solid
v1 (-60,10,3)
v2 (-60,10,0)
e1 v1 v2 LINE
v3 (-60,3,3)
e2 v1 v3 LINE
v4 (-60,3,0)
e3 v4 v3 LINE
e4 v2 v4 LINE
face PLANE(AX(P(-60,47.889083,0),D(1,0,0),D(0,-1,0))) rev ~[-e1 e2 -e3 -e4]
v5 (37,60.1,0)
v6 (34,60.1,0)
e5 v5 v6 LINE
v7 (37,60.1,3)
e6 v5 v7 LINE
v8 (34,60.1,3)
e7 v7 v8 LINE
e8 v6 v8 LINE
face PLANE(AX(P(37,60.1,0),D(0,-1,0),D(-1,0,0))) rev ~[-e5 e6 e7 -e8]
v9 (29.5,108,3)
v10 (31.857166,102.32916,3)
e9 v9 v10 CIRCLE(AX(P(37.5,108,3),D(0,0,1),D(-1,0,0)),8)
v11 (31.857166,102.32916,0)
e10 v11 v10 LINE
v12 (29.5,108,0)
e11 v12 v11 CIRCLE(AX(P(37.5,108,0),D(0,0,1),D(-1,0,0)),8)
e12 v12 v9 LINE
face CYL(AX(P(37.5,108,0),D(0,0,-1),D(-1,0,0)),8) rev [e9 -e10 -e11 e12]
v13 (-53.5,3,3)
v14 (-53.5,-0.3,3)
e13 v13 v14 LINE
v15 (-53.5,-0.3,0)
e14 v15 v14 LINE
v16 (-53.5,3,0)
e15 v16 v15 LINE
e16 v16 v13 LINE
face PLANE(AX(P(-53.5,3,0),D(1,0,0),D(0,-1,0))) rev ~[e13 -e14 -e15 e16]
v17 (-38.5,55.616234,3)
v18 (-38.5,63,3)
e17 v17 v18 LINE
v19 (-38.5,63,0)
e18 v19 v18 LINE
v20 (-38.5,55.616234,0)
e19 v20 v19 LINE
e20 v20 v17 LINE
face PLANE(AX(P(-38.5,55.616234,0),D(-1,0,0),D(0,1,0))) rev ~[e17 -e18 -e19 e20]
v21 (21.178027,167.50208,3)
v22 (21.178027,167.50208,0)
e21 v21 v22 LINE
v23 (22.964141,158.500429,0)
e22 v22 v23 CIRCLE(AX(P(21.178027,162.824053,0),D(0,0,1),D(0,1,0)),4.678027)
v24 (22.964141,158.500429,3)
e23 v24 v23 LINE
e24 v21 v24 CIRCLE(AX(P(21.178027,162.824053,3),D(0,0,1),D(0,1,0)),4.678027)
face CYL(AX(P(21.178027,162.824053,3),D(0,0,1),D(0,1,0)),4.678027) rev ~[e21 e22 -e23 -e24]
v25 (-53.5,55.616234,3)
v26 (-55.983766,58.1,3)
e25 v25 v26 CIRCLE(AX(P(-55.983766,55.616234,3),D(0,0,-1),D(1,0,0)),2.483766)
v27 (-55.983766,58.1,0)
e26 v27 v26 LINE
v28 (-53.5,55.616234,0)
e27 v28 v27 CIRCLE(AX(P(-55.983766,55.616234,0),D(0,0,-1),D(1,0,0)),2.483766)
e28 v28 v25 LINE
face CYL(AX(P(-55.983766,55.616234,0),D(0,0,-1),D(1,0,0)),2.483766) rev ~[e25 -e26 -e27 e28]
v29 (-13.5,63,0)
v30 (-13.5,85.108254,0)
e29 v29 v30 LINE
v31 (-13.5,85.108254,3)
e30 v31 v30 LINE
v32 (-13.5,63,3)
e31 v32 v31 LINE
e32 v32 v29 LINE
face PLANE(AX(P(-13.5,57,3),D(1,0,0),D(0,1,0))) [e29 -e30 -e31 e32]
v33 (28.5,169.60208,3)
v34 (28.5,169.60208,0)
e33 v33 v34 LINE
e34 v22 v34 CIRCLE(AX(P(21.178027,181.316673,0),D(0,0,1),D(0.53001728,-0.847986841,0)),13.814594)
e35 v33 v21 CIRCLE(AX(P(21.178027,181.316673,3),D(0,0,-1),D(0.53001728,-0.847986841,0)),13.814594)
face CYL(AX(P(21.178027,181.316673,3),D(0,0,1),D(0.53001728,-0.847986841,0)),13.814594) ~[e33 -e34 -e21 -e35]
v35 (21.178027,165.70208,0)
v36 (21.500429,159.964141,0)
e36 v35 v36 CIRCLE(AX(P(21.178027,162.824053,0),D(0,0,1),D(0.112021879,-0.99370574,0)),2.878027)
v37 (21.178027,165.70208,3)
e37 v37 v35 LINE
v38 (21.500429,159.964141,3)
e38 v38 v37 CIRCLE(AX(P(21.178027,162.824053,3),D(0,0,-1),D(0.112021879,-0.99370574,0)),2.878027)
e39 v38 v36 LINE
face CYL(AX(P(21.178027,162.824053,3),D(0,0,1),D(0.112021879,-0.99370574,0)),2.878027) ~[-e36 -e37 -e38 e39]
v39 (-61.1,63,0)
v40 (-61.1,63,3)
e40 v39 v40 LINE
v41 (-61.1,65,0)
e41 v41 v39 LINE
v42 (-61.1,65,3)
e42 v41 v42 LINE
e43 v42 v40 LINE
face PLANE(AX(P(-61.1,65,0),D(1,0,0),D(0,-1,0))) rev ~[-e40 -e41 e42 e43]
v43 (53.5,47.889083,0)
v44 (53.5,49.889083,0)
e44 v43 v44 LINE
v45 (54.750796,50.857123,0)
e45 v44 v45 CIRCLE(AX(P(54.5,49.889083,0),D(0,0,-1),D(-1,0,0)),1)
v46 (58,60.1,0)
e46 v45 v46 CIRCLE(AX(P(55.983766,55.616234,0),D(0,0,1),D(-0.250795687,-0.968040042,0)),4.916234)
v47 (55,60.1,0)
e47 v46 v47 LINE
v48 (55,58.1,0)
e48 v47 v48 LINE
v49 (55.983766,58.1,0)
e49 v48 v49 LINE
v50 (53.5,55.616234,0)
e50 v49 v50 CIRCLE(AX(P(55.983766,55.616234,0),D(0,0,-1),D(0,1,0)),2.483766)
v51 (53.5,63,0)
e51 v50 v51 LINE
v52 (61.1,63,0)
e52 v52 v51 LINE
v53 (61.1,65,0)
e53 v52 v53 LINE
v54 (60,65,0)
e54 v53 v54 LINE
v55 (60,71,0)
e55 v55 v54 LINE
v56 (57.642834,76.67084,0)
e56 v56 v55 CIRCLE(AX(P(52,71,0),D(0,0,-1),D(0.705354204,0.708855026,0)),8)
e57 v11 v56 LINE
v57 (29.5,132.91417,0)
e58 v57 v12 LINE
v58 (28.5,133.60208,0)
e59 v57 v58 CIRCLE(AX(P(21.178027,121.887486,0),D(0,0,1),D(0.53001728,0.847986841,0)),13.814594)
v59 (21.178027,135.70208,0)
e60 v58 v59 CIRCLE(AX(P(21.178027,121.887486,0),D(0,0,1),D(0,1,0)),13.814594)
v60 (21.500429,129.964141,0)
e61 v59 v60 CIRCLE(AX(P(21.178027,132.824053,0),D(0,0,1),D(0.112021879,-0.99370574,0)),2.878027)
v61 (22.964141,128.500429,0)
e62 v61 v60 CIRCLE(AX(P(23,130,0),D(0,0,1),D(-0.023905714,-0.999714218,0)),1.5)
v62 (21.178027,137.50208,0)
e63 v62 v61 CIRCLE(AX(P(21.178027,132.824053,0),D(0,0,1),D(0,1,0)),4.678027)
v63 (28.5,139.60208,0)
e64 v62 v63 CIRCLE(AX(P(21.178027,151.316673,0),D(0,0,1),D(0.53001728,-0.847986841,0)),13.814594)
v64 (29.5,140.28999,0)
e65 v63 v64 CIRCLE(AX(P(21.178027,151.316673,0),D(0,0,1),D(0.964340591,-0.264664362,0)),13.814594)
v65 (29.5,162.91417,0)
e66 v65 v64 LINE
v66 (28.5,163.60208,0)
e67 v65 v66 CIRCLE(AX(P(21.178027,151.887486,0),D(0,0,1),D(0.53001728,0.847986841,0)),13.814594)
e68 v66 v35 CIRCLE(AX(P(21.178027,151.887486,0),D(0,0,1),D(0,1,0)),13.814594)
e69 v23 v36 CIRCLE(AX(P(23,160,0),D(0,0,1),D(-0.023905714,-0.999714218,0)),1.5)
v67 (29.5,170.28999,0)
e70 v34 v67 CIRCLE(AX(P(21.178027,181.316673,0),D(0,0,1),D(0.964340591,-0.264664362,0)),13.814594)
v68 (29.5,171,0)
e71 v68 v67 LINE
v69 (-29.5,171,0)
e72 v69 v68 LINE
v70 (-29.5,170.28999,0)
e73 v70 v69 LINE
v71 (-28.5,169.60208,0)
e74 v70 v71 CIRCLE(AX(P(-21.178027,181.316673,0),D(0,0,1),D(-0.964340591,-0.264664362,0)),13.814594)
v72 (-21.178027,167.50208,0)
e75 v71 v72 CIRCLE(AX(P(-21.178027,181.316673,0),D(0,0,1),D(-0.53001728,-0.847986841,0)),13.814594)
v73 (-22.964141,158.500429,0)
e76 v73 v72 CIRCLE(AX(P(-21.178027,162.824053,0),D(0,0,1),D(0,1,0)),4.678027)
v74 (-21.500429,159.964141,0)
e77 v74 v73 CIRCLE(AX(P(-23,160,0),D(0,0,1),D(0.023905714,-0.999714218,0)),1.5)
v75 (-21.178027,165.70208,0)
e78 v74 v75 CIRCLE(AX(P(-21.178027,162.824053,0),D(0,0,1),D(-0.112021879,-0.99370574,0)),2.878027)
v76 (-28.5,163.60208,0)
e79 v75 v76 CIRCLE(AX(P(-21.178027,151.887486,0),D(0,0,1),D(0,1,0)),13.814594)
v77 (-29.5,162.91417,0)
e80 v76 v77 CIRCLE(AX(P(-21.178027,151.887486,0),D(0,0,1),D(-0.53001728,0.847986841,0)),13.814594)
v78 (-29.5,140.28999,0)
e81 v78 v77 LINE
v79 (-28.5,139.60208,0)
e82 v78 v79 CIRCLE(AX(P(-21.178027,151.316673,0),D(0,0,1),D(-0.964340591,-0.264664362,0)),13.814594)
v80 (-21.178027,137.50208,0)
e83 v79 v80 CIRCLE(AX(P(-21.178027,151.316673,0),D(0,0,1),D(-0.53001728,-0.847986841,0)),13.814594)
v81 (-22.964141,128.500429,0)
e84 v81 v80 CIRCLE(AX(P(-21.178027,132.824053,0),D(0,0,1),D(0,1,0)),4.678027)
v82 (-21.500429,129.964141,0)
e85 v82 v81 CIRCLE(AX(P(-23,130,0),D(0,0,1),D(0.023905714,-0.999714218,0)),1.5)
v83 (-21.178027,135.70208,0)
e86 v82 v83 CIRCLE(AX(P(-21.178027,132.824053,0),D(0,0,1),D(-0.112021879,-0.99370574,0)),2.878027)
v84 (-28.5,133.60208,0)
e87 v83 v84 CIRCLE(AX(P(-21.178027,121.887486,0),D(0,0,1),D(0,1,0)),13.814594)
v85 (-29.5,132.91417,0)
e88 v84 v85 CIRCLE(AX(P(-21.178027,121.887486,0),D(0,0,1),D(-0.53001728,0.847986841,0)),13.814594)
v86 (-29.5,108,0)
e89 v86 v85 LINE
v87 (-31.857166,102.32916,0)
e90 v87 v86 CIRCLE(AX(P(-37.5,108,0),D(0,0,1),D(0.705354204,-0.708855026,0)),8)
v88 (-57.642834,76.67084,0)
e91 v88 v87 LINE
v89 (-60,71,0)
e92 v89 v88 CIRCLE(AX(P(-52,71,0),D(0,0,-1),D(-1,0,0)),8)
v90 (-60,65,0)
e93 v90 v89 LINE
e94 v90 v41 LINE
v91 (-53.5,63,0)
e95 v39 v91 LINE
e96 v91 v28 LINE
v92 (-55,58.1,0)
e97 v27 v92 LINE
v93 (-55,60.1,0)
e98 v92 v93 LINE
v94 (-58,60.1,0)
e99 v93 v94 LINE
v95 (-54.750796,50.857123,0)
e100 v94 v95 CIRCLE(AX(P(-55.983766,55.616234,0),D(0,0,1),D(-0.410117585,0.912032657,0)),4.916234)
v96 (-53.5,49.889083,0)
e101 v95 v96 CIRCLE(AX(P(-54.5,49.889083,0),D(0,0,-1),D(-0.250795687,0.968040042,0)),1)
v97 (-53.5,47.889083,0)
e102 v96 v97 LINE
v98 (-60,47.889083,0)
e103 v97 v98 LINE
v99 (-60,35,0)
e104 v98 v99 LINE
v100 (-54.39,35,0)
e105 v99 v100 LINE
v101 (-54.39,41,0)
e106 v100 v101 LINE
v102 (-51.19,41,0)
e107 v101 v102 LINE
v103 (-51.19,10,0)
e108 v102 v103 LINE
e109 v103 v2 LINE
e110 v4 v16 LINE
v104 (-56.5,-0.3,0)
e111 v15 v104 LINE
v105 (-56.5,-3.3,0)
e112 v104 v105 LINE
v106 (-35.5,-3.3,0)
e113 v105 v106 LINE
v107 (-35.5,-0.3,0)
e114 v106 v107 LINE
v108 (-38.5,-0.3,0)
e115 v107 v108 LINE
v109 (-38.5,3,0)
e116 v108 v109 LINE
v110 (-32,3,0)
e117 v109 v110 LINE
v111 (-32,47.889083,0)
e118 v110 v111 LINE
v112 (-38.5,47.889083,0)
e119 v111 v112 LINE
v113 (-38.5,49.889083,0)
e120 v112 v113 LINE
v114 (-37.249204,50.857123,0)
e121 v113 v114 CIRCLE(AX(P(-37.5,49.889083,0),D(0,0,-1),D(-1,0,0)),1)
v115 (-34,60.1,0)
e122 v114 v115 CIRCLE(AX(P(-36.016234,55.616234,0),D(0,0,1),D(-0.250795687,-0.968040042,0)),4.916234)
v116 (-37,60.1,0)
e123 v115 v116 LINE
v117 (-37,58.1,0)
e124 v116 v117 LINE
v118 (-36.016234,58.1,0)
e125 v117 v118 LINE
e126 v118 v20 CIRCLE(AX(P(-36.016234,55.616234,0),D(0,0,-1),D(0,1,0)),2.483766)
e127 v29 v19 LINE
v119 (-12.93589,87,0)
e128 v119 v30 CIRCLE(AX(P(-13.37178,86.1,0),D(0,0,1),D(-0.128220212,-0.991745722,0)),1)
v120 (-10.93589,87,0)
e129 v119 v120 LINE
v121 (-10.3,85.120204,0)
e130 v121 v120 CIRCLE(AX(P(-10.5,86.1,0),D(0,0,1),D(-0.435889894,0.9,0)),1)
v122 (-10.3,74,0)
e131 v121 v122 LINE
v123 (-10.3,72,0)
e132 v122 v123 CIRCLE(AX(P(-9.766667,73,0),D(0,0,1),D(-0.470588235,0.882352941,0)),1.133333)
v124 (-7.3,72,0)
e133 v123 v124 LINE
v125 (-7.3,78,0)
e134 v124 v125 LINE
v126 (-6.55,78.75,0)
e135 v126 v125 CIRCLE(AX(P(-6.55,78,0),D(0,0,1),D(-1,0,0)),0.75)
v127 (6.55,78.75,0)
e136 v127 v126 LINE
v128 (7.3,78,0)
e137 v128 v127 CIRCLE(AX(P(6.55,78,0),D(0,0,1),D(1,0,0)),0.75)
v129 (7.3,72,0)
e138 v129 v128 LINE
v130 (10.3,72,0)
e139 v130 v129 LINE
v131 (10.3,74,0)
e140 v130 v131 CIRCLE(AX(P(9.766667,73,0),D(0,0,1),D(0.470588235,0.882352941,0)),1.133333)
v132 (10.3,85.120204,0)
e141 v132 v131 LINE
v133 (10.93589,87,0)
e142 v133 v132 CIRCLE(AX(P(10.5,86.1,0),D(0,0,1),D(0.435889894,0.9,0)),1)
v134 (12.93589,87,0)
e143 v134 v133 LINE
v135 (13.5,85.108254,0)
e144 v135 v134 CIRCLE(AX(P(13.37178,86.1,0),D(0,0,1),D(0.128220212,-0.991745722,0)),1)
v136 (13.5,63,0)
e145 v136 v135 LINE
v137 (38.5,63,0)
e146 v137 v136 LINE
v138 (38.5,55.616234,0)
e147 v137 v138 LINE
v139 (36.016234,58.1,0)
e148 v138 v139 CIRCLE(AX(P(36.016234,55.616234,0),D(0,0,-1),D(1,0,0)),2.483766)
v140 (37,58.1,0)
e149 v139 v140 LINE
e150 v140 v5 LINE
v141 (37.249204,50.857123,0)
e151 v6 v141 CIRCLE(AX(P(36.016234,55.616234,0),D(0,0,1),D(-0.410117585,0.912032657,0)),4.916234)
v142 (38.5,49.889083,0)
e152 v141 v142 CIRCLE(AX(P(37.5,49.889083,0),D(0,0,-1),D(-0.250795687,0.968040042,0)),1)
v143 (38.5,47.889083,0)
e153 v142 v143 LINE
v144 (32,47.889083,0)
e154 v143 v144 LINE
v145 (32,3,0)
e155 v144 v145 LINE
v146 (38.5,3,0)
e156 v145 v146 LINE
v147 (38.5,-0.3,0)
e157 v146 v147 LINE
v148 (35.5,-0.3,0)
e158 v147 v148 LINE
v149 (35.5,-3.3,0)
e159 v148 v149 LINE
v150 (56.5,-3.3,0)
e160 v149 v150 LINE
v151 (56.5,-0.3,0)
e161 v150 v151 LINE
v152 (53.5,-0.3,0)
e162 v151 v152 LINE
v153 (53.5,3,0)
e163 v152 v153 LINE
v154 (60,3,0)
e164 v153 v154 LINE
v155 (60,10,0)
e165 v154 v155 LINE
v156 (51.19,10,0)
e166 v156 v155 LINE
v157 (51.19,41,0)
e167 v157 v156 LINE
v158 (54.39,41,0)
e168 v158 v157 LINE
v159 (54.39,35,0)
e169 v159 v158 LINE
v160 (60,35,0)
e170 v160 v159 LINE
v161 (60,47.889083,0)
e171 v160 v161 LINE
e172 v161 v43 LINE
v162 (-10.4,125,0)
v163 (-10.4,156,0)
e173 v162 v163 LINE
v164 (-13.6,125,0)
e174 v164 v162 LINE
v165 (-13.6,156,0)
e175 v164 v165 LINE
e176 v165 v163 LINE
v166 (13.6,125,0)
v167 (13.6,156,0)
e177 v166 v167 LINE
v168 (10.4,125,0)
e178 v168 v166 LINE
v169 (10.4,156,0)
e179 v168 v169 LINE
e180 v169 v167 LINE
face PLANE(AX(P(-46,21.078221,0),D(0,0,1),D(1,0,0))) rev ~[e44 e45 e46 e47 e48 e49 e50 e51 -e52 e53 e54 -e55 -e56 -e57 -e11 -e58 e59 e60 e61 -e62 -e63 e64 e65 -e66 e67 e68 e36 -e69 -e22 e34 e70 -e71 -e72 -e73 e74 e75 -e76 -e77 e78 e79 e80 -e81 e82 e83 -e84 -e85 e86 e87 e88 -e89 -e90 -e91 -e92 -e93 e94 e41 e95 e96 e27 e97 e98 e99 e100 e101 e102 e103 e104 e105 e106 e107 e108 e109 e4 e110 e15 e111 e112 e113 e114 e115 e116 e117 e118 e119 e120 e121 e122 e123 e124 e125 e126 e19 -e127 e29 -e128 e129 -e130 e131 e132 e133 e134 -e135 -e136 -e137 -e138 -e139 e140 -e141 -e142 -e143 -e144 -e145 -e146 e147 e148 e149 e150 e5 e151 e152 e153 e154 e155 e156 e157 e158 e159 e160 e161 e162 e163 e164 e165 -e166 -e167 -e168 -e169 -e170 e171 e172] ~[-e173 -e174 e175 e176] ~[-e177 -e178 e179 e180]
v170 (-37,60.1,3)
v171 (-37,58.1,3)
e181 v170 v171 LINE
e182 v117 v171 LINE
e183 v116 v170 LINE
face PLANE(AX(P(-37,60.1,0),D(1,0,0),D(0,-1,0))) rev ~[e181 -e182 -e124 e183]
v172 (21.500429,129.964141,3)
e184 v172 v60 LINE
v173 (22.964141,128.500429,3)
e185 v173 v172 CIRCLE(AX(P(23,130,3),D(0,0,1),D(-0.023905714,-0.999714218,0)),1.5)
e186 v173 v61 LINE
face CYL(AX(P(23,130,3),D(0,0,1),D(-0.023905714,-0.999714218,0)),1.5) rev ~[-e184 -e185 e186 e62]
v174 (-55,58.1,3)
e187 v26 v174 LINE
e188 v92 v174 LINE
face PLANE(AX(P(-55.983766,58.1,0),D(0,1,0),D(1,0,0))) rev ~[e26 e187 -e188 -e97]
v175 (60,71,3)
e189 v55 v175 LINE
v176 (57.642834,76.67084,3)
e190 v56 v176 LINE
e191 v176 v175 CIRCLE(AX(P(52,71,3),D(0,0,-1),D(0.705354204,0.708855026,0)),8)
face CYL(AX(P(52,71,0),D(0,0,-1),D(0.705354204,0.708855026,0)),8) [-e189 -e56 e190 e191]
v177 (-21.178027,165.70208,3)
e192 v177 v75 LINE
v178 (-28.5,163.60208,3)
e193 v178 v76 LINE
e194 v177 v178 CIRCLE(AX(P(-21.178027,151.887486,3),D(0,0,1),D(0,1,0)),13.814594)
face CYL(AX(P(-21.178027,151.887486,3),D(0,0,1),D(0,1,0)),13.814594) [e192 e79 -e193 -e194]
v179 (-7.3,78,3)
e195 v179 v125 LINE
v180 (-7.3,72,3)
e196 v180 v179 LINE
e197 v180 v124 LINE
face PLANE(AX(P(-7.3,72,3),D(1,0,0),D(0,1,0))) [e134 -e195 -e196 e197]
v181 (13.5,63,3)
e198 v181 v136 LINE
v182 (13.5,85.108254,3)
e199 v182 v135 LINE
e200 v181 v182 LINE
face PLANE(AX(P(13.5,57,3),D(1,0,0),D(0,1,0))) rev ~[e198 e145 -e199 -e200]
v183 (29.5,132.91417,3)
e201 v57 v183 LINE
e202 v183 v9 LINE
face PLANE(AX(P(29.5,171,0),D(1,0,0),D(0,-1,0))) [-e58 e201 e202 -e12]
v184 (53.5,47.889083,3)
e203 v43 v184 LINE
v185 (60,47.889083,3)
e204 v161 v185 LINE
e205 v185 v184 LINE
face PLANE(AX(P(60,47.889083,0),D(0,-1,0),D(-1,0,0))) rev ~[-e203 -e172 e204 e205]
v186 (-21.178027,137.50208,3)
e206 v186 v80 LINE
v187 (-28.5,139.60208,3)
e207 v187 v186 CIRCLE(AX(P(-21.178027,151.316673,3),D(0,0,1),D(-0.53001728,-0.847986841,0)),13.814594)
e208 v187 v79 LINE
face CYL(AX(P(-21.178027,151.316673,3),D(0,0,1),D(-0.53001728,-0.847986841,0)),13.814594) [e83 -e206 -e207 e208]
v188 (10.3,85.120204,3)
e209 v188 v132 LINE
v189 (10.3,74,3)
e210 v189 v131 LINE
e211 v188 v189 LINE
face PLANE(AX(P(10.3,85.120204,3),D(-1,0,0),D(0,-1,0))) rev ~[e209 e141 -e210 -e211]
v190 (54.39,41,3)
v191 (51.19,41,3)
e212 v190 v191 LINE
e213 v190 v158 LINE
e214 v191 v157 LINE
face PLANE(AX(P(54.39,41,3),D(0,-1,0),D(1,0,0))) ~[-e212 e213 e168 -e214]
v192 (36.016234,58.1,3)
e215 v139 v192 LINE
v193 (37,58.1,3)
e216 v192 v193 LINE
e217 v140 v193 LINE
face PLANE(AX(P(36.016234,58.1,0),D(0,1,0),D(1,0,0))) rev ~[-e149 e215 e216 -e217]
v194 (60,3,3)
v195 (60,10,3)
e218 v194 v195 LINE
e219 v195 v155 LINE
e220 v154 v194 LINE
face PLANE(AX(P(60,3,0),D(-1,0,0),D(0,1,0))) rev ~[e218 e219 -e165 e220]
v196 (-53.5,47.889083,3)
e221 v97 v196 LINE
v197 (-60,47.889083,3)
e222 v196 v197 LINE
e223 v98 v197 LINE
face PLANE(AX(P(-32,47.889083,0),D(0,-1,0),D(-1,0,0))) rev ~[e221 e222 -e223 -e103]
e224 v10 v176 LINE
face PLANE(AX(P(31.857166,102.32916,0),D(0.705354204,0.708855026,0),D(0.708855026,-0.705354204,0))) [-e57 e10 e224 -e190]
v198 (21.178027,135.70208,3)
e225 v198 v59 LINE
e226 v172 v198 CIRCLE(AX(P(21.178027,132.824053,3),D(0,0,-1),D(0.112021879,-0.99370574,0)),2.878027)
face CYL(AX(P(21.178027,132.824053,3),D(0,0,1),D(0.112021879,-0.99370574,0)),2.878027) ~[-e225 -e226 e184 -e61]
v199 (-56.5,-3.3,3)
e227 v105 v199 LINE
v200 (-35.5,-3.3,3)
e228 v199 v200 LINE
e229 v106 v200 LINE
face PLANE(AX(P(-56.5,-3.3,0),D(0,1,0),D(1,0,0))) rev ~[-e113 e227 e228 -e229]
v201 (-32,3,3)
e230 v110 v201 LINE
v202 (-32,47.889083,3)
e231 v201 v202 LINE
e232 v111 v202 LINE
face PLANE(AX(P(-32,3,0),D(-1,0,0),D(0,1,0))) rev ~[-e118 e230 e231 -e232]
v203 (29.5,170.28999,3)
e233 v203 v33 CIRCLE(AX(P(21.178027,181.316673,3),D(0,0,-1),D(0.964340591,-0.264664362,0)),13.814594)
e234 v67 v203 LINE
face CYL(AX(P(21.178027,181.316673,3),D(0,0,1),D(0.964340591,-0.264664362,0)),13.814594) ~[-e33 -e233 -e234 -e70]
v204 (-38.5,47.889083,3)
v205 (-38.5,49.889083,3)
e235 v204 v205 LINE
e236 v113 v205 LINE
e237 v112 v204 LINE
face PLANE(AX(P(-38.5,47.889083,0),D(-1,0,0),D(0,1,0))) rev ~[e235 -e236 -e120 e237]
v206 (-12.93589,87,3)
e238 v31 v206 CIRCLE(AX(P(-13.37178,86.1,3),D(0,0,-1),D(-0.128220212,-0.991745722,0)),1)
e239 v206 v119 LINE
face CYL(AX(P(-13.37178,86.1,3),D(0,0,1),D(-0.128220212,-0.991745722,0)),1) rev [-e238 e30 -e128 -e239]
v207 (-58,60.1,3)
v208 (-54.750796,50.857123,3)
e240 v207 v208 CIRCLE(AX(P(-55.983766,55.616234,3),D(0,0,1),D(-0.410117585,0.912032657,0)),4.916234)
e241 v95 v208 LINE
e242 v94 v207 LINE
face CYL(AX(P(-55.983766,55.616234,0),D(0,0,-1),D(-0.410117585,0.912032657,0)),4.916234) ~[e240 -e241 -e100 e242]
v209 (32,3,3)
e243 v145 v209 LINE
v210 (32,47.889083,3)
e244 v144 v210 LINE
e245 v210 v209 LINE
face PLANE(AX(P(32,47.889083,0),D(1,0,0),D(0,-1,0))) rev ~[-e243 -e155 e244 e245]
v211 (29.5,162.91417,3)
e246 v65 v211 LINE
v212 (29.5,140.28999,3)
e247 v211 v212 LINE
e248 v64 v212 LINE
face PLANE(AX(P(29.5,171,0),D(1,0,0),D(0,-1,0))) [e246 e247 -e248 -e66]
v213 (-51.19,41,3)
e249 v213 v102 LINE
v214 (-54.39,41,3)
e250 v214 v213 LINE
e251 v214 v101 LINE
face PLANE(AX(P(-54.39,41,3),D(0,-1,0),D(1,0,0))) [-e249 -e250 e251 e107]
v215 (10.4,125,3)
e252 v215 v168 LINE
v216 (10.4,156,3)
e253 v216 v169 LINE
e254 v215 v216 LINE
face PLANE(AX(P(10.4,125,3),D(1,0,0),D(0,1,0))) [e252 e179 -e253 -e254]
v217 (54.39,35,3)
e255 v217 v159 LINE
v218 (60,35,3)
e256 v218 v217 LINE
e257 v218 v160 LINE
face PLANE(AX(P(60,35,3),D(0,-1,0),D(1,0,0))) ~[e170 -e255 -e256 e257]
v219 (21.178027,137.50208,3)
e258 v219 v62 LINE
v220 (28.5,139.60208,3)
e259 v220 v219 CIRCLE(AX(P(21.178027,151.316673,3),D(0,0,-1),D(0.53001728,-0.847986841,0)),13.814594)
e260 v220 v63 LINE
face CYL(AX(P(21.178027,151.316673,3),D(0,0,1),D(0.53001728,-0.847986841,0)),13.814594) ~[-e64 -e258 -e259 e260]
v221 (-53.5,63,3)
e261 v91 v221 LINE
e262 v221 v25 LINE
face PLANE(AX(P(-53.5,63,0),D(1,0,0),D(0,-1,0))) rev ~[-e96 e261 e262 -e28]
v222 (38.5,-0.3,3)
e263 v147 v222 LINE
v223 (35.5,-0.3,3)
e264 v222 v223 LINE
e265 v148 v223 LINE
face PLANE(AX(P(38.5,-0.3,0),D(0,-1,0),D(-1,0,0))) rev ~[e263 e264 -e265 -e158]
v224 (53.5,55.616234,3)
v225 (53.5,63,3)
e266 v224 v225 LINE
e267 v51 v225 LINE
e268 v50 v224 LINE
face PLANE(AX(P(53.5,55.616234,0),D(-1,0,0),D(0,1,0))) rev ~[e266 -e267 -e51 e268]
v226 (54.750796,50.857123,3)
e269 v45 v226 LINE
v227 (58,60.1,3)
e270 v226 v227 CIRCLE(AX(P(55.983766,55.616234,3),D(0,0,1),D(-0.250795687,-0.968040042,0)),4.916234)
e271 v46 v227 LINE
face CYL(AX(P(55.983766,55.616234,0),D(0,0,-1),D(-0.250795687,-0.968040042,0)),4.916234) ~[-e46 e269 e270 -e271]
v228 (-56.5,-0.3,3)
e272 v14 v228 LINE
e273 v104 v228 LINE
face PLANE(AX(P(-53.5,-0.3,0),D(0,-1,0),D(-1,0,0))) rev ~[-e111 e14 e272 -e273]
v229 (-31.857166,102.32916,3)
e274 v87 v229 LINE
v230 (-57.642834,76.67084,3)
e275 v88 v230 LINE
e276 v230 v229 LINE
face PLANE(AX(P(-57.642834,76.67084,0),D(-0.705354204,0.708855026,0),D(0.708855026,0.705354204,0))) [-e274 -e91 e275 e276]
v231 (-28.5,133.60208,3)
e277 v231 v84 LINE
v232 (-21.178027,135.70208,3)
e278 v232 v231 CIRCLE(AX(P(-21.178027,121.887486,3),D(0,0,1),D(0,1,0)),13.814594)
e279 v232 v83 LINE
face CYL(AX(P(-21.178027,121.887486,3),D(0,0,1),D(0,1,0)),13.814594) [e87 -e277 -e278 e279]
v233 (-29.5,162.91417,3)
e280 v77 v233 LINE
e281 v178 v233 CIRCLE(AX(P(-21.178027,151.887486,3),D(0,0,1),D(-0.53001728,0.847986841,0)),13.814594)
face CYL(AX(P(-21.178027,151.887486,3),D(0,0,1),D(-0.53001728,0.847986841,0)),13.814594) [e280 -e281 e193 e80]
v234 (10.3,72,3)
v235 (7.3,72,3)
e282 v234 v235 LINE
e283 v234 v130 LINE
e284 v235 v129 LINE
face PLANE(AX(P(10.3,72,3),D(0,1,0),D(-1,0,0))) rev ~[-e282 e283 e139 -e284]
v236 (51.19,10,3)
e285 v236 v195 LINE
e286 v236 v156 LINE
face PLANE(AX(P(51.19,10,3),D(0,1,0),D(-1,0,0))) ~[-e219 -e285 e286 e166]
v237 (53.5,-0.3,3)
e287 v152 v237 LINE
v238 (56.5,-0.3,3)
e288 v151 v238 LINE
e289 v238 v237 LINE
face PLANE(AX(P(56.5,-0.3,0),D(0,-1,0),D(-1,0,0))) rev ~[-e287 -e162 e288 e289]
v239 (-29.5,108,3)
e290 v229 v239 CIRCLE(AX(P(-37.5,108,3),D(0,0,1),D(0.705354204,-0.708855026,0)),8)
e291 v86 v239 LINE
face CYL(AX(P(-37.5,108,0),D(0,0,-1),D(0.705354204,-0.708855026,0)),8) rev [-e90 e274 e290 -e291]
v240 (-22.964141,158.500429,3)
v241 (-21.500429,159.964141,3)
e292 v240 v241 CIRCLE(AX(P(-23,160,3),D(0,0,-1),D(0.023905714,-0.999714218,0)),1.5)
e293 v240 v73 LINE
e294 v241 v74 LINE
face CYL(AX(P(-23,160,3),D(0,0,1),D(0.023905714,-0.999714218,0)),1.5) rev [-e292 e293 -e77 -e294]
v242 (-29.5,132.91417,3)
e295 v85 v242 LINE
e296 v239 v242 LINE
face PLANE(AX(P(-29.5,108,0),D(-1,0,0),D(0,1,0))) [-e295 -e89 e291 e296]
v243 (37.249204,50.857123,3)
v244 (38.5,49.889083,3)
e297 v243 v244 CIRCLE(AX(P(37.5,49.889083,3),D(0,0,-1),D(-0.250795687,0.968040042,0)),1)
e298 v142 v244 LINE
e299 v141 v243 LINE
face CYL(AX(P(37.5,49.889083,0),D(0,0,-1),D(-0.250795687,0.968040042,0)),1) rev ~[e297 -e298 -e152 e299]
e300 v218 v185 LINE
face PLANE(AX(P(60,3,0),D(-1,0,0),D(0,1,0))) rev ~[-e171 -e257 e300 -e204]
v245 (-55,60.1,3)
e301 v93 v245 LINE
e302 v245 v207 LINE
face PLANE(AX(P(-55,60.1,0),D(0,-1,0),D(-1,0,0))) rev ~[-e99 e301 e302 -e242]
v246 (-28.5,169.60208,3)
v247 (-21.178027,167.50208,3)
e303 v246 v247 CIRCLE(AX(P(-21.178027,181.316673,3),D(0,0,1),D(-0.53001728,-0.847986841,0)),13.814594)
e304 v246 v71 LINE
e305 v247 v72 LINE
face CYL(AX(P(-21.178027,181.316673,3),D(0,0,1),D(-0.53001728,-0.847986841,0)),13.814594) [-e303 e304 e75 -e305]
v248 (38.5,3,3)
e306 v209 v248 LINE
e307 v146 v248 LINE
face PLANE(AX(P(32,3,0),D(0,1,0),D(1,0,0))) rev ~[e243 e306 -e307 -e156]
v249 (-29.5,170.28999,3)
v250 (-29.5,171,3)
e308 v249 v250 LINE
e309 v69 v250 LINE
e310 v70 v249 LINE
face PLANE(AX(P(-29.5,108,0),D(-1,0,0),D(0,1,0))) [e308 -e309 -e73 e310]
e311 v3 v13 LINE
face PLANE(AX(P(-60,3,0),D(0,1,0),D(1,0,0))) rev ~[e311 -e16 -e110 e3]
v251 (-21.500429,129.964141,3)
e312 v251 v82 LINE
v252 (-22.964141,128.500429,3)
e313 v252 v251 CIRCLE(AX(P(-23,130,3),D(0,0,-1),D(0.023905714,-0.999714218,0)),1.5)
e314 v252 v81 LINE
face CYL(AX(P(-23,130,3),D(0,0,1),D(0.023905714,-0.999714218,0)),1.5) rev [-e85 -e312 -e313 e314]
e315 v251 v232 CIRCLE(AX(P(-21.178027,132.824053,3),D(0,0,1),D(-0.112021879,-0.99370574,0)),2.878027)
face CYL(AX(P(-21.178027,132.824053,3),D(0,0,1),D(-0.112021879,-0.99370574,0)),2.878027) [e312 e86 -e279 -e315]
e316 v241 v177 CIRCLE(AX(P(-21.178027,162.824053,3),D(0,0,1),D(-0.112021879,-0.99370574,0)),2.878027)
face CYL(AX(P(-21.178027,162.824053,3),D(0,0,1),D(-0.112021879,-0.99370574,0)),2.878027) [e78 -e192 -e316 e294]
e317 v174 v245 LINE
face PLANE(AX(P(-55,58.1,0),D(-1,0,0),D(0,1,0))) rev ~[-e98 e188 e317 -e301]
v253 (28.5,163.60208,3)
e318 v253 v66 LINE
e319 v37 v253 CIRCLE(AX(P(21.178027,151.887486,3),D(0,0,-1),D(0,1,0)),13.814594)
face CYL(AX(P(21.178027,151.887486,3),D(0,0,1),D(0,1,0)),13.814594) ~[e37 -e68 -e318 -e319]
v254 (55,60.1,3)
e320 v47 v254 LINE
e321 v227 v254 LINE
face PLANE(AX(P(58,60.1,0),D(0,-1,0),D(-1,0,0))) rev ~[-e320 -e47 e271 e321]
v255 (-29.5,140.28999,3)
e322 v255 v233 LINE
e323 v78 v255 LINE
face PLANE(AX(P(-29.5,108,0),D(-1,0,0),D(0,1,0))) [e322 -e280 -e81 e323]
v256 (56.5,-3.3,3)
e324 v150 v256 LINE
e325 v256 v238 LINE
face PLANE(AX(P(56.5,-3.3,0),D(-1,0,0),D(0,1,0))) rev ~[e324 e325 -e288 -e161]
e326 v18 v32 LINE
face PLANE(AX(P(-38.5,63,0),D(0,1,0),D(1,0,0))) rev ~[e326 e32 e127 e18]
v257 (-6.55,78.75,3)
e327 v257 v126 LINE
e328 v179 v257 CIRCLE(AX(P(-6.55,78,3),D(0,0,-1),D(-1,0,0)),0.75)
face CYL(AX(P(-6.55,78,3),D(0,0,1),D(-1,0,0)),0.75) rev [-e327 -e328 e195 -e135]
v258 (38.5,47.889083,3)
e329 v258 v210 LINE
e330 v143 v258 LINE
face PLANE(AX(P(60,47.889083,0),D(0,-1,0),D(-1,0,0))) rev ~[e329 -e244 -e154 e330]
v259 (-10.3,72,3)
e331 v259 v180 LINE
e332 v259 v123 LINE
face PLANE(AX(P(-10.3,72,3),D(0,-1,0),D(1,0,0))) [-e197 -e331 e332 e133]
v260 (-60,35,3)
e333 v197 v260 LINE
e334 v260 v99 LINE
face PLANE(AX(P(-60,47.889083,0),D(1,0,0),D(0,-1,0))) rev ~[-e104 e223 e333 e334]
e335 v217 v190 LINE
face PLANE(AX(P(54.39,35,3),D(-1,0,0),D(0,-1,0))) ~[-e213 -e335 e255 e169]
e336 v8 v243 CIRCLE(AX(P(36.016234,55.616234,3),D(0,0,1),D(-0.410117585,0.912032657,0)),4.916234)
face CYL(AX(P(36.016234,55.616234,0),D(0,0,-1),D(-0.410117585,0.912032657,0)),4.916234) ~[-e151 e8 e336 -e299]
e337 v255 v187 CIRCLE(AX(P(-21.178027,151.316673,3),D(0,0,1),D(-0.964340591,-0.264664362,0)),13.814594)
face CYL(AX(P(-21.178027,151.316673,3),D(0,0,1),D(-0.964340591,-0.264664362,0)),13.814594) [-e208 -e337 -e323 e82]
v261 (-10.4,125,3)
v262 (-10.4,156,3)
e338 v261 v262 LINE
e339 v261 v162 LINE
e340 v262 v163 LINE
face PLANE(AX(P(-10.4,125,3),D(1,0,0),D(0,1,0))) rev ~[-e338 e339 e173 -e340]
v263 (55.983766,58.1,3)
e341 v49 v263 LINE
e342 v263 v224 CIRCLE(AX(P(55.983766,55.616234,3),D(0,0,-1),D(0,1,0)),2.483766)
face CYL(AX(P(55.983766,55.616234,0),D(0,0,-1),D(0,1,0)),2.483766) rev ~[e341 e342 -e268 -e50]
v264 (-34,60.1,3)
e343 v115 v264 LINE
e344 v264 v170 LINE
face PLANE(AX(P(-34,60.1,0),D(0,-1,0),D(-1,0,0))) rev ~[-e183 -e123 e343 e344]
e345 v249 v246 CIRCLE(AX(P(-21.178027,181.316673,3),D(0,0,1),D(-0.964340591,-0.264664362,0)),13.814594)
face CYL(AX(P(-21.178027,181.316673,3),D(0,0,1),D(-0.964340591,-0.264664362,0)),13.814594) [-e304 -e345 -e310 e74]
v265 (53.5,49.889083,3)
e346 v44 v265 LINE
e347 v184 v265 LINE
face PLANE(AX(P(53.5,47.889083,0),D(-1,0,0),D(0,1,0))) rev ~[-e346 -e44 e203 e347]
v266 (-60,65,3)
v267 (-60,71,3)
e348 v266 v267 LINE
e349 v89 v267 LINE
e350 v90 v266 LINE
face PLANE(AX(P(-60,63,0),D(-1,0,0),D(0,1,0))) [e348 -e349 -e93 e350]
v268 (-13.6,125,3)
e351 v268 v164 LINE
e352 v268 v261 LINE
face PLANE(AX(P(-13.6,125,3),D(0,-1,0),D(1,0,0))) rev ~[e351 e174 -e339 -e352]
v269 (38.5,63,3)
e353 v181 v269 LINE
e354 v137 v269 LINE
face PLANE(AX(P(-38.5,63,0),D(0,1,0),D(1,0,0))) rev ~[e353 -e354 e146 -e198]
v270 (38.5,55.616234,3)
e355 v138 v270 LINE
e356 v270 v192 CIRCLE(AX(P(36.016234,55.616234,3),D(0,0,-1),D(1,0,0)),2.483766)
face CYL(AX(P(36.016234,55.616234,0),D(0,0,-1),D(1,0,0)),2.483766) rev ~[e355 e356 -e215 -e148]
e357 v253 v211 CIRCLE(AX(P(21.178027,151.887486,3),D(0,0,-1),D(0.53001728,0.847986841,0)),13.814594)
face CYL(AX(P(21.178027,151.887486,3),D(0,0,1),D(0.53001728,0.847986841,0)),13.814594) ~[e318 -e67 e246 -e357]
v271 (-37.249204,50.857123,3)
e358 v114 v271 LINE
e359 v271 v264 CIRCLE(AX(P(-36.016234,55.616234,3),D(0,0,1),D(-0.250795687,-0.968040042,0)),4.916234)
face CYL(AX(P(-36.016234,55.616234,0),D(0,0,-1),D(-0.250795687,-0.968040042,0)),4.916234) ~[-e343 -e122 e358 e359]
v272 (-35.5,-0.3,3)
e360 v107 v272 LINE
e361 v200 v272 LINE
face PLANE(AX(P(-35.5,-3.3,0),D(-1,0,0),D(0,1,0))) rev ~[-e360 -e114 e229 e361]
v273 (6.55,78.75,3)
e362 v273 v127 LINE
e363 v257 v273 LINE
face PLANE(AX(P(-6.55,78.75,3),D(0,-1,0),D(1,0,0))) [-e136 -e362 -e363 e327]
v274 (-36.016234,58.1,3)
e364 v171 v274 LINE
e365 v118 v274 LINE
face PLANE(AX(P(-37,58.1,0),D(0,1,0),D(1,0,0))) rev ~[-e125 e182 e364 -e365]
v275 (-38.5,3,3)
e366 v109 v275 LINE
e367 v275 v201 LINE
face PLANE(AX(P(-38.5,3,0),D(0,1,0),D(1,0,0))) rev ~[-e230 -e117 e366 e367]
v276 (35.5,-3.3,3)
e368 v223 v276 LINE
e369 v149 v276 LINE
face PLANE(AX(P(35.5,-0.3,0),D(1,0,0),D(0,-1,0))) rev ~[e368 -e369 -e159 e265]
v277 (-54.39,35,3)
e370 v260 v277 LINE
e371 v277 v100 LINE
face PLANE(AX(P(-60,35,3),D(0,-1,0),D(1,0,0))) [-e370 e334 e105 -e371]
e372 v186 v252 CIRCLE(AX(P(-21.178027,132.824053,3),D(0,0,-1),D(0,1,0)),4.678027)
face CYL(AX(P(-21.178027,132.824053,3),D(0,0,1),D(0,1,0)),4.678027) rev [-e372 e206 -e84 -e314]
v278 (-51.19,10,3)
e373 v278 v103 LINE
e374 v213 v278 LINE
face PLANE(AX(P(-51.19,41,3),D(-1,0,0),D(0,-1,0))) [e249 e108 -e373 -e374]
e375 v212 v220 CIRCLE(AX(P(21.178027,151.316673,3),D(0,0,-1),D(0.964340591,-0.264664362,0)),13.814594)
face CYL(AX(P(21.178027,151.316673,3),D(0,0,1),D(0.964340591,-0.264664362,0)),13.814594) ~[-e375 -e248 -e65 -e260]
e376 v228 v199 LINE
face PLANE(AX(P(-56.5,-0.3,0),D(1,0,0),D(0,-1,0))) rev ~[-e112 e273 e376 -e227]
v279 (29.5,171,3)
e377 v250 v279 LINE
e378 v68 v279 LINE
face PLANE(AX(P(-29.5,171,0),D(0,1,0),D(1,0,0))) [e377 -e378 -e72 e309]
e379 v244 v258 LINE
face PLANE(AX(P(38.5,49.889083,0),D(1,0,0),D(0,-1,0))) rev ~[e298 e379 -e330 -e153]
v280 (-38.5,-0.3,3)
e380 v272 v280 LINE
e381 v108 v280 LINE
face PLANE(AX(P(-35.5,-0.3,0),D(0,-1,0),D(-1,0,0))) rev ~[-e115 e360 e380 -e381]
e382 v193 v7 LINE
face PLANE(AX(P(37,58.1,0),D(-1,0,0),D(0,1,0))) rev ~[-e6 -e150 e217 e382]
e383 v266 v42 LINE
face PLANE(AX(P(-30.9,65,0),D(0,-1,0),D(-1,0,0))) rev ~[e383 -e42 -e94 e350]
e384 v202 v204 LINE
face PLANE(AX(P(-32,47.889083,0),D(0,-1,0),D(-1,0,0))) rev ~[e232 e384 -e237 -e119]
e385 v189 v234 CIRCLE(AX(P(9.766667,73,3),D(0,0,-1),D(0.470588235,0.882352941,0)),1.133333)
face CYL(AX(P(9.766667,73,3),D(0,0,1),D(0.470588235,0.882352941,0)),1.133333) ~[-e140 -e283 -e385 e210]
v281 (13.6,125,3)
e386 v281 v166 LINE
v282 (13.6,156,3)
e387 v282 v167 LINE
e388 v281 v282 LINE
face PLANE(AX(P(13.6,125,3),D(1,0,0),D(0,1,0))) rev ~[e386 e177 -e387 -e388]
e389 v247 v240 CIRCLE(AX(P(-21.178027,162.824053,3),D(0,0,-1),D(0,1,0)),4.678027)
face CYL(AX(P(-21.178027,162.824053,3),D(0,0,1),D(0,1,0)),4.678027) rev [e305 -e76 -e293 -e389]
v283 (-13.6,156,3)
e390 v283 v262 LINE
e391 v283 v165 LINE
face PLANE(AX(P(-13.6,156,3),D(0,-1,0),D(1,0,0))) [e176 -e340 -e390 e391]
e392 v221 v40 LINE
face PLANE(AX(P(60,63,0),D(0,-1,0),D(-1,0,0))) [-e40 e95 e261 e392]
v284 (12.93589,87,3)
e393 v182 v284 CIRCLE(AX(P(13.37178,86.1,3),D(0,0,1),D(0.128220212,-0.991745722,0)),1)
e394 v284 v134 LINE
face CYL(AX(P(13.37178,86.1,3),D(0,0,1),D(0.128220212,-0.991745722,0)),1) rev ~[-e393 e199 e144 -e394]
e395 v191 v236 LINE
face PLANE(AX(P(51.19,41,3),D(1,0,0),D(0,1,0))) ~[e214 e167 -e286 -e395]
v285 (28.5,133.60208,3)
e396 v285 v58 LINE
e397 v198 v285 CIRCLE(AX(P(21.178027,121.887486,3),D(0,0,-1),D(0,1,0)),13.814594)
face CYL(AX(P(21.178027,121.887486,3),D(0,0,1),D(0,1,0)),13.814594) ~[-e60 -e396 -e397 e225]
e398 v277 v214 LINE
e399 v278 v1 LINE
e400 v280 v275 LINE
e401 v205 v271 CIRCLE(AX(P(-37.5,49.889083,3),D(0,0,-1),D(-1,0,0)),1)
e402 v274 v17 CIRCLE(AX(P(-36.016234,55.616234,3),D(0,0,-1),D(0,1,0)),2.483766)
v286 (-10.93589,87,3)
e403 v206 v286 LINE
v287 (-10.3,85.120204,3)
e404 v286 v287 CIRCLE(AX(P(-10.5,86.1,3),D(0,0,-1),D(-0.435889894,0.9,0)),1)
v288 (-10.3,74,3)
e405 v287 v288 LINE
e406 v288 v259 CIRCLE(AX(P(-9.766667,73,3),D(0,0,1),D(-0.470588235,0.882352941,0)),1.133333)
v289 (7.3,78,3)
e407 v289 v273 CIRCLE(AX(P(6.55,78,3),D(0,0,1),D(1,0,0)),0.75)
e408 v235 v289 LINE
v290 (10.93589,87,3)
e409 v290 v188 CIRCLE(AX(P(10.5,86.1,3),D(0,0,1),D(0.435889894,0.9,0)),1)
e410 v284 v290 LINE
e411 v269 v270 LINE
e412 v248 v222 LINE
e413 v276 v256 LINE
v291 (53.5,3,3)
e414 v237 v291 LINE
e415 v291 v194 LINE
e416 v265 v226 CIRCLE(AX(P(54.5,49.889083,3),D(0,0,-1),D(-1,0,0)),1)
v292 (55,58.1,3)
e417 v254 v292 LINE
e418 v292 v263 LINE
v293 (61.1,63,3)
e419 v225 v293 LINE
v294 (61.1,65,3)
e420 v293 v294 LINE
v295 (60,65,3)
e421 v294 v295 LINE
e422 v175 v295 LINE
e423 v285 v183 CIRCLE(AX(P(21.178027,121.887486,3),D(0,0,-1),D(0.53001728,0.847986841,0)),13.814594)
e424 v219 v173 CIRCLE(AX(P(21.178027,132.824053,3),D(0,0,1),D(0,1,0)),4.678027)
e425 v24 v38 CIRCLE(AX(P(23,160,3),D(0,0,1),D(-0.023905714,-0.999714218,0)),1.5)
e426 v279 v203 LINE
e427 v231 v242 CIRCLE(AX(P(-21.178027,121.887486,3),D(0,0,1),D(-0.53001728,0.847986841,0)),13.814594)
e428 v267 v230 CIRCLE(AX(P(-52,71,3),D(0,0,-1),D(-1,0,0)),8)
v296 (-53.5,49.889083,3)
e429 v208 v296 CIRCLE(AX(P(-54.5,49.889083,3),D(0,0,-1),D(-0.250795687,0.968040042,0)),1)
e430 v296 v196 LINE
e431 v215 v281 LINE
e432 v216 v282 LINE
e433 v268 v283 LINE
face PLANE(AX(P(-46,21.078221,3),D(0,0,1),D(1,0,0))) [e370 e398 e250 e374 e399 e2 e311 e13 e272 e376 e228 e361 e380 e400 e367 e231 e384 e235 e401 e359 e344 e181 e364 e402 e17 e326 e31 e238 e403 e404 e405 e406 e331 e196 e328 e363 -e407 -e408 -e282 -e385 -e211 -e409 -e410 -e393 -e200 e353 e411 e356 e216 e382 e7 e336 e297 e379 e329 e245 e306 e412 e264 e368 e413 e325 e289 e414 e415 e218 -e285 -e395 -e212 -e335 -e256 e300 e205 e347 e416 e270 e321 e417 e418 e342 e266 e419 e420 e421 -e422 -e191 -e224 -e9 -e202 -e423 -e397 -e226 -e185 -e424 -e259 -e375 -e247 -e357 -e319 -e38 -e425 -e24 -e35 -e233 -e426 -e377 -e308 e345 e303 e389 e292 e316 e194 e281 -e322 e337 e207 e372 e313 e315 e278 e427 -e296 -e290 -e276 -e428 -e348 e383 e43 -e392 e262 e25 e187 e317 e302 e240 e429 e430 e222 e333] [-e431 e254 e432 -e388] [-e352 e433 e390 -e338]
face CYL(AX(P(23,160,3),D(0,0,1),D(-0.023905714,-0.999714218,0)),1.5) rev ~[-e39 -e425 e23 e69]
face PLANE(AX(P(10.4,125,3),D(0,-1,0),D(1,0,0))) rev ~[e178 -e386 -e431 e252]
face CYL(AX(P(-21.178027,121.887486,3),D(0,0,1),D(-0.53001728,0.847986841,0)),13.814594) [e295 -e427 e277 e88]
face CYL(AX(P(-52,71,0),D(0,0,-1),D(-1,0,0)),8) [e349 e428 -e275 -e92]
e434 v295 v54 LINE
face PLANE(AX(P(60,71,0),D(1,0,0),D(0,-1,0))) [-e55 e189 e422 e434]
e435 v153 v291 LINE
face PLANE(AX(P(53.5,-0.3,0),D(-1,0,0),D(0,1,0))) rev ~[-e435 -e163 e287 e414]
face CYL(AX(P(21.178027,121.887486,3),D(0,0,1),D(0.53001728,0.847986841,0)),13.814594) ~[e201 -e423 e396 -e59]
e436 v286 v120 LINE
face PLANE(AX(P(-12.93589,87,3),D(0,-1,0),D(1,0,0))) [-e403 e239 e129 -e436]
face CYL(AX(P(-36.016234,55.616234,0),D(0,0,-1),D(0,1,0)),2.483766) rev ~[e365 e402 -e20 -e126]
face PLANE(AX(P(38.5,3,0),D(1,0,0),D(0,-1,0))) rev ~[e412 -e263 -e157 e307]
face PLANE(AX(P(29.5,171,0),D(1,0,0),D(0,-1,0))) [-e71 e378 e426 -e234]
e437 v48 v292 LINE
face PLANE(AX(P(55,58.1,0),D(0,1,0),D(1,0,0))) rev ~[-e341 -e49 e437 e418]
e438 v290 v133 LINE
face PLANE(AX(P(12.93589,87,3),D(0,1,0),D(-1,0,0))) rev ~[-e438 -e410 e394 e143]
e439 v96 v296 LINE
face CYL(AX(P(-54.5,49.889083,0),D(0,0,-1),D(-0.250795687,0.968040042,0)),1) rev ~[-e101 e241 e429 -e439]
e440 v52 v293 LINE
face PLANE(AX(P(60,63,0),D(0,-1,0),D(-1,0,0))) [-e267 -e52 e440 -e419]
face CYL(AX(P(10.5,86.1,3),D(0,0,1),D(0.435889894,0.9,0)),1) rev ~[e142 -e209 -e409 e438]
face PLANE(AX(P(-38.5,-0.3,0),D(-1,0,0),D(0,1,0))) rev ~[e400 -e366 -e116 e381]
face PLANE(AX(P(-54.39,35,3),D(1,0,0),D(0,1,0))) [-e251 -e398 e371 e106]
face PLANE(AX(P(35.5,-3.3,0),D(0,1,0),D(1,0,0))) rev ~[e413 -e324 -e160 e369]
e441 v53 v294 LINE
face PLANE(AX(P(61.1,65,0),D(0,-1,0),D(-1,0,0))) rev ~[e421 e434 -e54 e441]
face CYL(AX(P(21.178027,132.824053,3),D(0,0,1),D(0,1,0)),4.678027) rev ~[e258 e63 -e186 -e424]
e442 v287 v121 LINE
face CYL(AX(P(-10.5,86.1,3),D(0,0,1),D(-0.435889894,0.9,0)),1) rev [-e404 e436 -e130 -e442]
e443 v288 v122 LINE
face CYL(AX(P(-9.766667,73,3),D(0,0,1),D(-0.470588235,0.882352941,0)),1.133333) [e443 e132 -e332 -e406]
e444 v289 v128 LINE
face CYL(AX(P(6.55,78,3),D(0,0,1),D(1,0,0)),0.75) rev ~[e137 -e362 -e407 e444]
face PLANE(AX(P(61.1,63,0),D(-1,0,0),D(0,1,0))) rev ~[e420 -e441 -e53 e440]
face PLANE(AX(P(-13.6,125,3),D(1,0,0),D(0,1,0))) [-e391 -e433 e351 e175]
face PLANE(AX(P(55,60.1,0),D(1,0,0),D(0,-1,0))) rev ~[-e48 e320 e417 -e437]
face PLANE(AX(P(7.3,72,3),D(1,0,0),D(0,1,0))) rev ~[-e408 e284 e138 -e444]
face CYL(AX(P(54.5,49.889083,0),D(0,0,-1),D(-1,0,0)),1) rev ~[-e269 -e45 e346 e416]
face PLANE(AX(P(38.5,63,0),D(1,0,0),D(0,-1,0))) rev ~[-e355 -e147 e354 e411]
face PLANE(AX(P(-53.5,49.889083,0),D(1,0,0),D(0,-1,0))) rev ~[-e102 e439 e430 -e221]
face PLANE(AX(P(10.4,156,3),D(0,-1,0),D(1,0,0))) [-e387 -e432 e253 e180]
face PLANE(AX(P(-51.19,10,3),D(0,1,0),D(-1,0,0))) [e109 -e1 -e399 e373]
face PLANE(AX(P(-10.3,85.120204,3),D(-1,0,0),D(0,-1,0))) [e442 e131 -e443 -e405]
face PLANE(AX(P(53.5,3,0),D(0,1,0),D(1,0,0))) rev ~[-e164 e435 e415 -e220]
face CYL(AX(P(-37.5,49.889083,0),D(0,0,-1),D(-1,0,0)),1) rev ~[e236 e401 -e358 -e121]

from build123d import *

# Parameters (mm, degrees)
MAIN_SPAR_DEPTH                                = 3
T_TABS_TOP_PLATE_DEPTH                         = 3
LONG_TAB_DEPTH                                 = 3
SKETCH2_W                                      = 3.2
SKETCH2_H                                      = 31
TAB_SLOTS_DEPTH                                = 182.612802412
TAB_SLOT_EXTRA_RELIEF_AND_CABLE_CLEARANC_REACH = 183.613
SKETCH9_W                                      = 13.1
SKETCH9_H                                      = 15.75
SIDE_PLATE_SLOT_DEPTH                          = 182.612802412
ELASTIC_ANCHORS_REACH                          = 183.613


with BuildPart() as part:
    # Sketch1 → main spar (new body)
    with BuildSketch(Plane.XY):
        with BuildLine():
            Line((-29.5, 171), (29.5, 171))
            Line((29.5, 171), (29.5, 108))
            ThreePointArc((29.5, 108), (30.112758667, 104.92938679), (31.857166371, 102.329159794))
            Line((31.857166371, 102.329159794), (57.642833629, 76.670840206))
            ThreePointArc((57.642833629, 76.670840206), (59.387241333, 74.07061321), (60, 71))
            Line((60, 71), (60, 63))
            Line((60, 63), (0, 63))
            Line((0, 63), (-60, 63))
            Line((-60, 63), (-60, 71))
            ThreePointArc((-60, 71), (-59.387241333, 74.07061321), (-57.642833629, 76.670840206))
            Line((-57.642833629, 76.670840206), (-31.857166371, 102.329159794))
            ThreePointArc((-31.857166371, 102.329159794), (-30.112758667, 104.92938679), (-29.5, 108))
            Line((-29.5, 108), (-29.5, 171))
        make_face()
    extrude(amount=MAIN_SPAR_DEPTH)

    # Sketch10 → T tabs top plate (add)
    with BuildSketch(Plane(origin=(0, 0, 0), x_dir=(-1, 0, 0), z_dir=(0, 0, -1))):
        with BuildLine():
            Line((53.5, 63), (53.5, 55.616234023))
            ThreePointArc((53.5, 55.616234023), (57.740053742, 53.859946258), (55.983765977, 58.1))
            Line((55.983765977, 58.1), (55, 58.1))
            Line((55, 58.1), (55, 60.1))
            Line((55, 60.1), (58, 60.1))
            ThreePointArc((58, 60.1), (60.621768891, 53.985808943), (54.750795687, 50.857122632))
            ThreePointArc((54.750795687, 50.857122632), (53.887952488, 50.679903583), (53.5, 49.88908259))
            Line((53.5, 49.88908259), (53.5, 47.88908259))
            Line((53.5, 47.88908259), (38.5, 47.88908259))
            Line((38.5, 47.88908259), (38.5, 49.88908259))
            ThreePointArc((38.5, 49.88908259), (38.112047512, 50.679903583), (37.249204313, 50.857122632))
            ThreePointArc((37.249204313, 50.857122632), (31.378231109, 53.985808943), (34, 60.1))
            Line((34, 60.1), (37, 60.1))
            Line((37, 60.1), (37, 58.1))
            Line((37, 58.1), (36.016234023, 58.1))
            ThreePointArc((36.016234023, 58.1), (34.259946258, 53.859946258), (38.5, 55.616234023))
            Line((38.5, 55.616234023), (38.5, 63))
            Line((38.5, 63), (30.9, 63))
            Line((30.9, 63), (30.9, 65))
            Line((30.9, 65), (61.1, 65))
            Line((61.1, 65), (61.1, 63))
            Line((61.1, 63), (53.5, 63))
        make_face()
        with BuildLine():
            Line((-38.5, 63), (-38.5, 55.616234023))
            ThreePointArc((-38.5, 55.616234023), (-34.259946258, 53.859946258), (-36.016234023, 58.1))
            Line((-36.016234023, 58.1), (-37, 58.1))
            Line((-37, 58.1), (-37, 60.1))
            Line((-37, 60.1), (-34, 60.1))
            ThreePointArc((-34, 60.1), (-31.378231109, 53.985808943), (-37.249204313, 50.857122632))
            ThreePointArc((-37.249204313, 50.857122632), (-38.112047512, 50.679903583), (-38.5, 49.88908259))
            Line((-38.5, 49.88908259), (-38.5, 47.88908259))
            Line((-38.5, 47.88908259), (-53.5, 47.88908259))
            Line((-53.5, 47.88908259), (-53.5, 49.88908259))
            ThreePointArc((-53.5, 49.88908259), (-53.887952488, 50.679903583), (-54.750795687, 50.857122632))
            ThreePointArc((-54.750795687, 50.857122632), (-60.621768891, 53.985808943), (-58, 60.1))
            Line((-58, 60.1), (-55, 60.1))
            Line((-55, 60.1), (-55, 58.1))
            Line((-55, 58.1), (-55.983765977, 58.1))
            ThreePointArc((-55.983765977, 58.1), (-57.740053742, 53.859946258), (-53.5, 55.616234023))
            Line((-53.5, 55.616234023), (-53.5, 63))
            Line((-53.5, 63), (-61.1, 63))
            Line((-61.1, 63), (-61.1, 65))
            Line((-61.1, 65), (-30.9, 65))
            Line((-30.9, 65), (-30.9, 63))
            Line((-30.9, 63), (-38.5, 63))
        make_face()
    extrude(amount=-T_TABS_TOP_PLATE_DEPTH)

    # Sketch11 → long tab (add)
    with BuildSketch(Plane(origin=(0, 0, 0), x_dir=(-1, 0, 0), z_dir=(0, 0, -1))):
        Polygon((32, 47.88908259), (60, 47.88908259), (60, 3), (53.5, 3), (53.5, -0.3), (56.5, -0.3), (56.5, -3.3), (35.5, -3.3), (35.5, -0.3), (38.5, -0.3), (38.5, 3), (32, 3), align=None)
        Polygon((-60, 47.88908259), (-32, 47.88908259), (-32, 3), (-38.5, 3), (-38.5, -0.3), (-35.5, -0.3), (-35.5, -3.3), (-56.5, -3.3), (-56.5, -0.3), (-53.5, -0.3), (-53.5, 3), (-60, 3), align=None)
    extrude(amount=-LONG_TAB_DEPTH)

    # Sketch2 → tab slots (cut, through all)
    with BuildSketch(Plane.XY.offset(3)):
        with Locations((12, 140.5)):
            Rectangle(SKETCH2_W, SKETCH2_H)
        with Locations((-12, 140.5)):
            Rectangle(SKETCH2_W, SKETCH2_H)
        with BuildLine():
            Line((10.3, 72), (7.3, 72))
            Line((7.3, 72), (7.3, 78))
            ThreePointArc((7.3, 78), (6.55, 78.75), (5.8, 78))
            Line((5.8, 78), (5.8, 57))
            Line((5.8, 57), (13.5, 57))
            Line((13.5, 57), (13.5, 72))
            Line((13.5, 72), (13.5, 85.108254278))
            ThreePointArc((13.5, 85.108254278), (14.330080695, 86.38576104), (12.935889894, 87))
            Line((12.935889894, 87), (10.935889894, 87))
            ThreePointArc((10.935889894, 87), (9.55273068, 86.420438505), (10.3, 85.120204103))
            Line((10.3, 85.120204103), (10.3, 74))
            ThreePointArc((10.3, 74), (10.9, 73), (10.3, 72))
        make_face()
        with BuildLine():
            Line((-10.3, 72), (-7.3, 72))
            Line((-7.3, 72), (-7.3, 78))
            ThreePointArc((-7.3, 78), (-6.55, 78.75), (-5.8, 78))
            Line((-5.8, 78), (-5.8, 57))
            Line((-5.8, 57), (-13.5, 57))
            Line((-13.5, 57), (-13.5, 72))
            Line((-13.5, 72), (-13.5, 85.108254278))
            ThreePointArc((-13.5, 85.108254278), (-14.330080695, 86.38576104), (-12.935889894, 87))
            Line((-12.935889894, 87), (-10.935889894, 87))
            ThreePointArc((-10.935889894, 87), (-9.55273068, 86.420438505), (-10.3, 85.120204103))
            Line((-10.3, 85.120204103), (-10.3, 74))
            ThreePointArc((-10.3, 74), (-10.9, 73), (-10.3, 72))
        make_face()
    extrude(amount=-TAB_SLOTS_DEPTH, mode=Mode.SUBTRACT)

    # Sketch9 → tab slot extra relief and cable clearanc (cut, up to next)
    with BuildSketch(Plane.XY.offset(3), mode=Mode.PRIVATE) as tab_slot_extra_relief_and_cable_clearanc_sk1:
        with Locations((0, 70.875)):
            Rectangle(SKETCH9_W, SKETCH9_H)
    tab_slot_extra_relief_and_cable_clearanc_tool1 = extrude(tab_slot_extra_relief_and_cable_clearanc_sk1.sketch, amount=-TAB_SLOT_EXTRA_RELIEF_AND_CABLE_CLEARANC_REACH, mode=Mode.PRIVATE) & part.part
    add(tab_slot_extra_relief_and_cable_clearanc_tool1.solids().sort_by_distance((0, 70.875, 3))[0], mode=Mode.SUBTRACT)

    # Sketch4 → side plate slot (cut, through all)
    with BuildSketch(Plane.XY.offset(3)):
        Polygon((-60, 35), (-54.39, 35), (-54.39, 41), (-51.19, 41), (-51.19, 10), (-60, 10), align=None)
    side_plate_slot = extrude(amount=-SIDE_PLATE_SLOT_DEPTH, mode=Mode.SUBTRACT)

    # side plate slot mirror: side plate slot across plane
    add(side_plate_slot.mirror(Plane(origin=(0, 0, 0), x_dir=(0, 0, 1), z_dir=(1, 0, 0))), mode=Mode.SUBTRACT)

    # Sketch8 → elastic anchors (cut, up to next)
    with BuildSketch(Plane.XY.offset(3), mode=Mode.PRIVATE) as elastic_anchors_sk1:
        with BuildLine():
            ThreePointArc((22.96414143, 158.500428674), (24.060660172, 161.060660172), (21.500428674, 159.96414143))
            ThreePointArc((21.500428674, 159.96414143), (18.304532331, 162.662597854), (21.178026712, 165.702079807))
            ThreePointArc((21.178026712, 165.702079807), (24.986612172, 165.166705802), (28.5, 163.602079807))
            ThreePointArc((28.5, 163.602079807), (32.25852471, 160.13767164), (34.5, 155.543716867))
            Line((34.5, 155.543716867), (34.5, 177.660442747))
            ThreePointArc((34.5, 177.660442747), (32.25852471, 173.066487973), (28.5, 169.602079807))
            ThreePointArc((28.5, 169.602079807), (24.986612172, 168.037453812), (21.178026712, 167.502079807))
            ThreePointArc((21.178026712, 167.502079807), (16.589455886, 161.913585252), (22.96414143, 158.500428674))
        make_face()
    elastic_anchors_tool1 = extrude(elastic_anchors_sk1.sketch, amount=-ELASTIC_ANCHORS_REACH, mode=Mode.PRIVATE) & part.part
    # Sketch8 → elastic anchors (cut, up to next)
    with BuildSketch(Plane.XY.offset(3), mode=Mode.PRIVATE) as elastic_anchors_sk2:
        with BuildLine():
            ThreePointArc((22.96414143, 128.500428674), (24.060660172, 131.060660172), (21.500428674, 129.96414143))
            ThreePointArc((21.500428674, 129.96414143), (18.304532331, 132.662597854), (21.178026712, 135.702079807))
            ThreePointArc((21.178026712, 135.702079807), (24.986612172, 135.166705802), (28.5, 133.602079807))
            ThreePointArc((28.5, 133.602079807), (32.25852471, 130.13767164), (34.5, 125.543716867))
            Line((34.5, 125.543716867), (34.5, 147.660442747))
            ThreePointArc((34.5, 147.660442747), (32.25852471, 143.066487973), (28.5, 139.602079807))
            ThreePointArc((28.5, 139.602079807), (24.986612172, 138.037453812), (21.178026712, 137.502079807))
            ThreePointArc((21.178026712, 137.502079807), (16.589455886, 131.913585252), (22.96414143, 128.500428674))
        make_face()
    elastic_anchors_tool2 = extrude(elastic_anchors_sk2.sketch, amount=-ELASTIC_ANCHORS_REACH, mode=Mode.PRIVATE) & part.part
    # Sketch8 → elastic anchors (cut, up to next)
    with BuildSketch(Plane.XY.offset(3), mode=Mode.PRIVATE) as elastic_anchors_sk3:
        with BuildLine():
            ThreePointArc((-22.96414143, 128.500428674), (-24.060660172, 131.060660172), (-21.500428674, 129.96414143))
            ThreePointArc((-21.500428674, 129.96414143), (-18.304532331, 132.662597854), (-21.178026712, 135.702079807))
            ThreePointArc((-21.178026712, 135.702079807), (-24.986612172, 135.166705802), (-28.5, 133.602079807))
            ThreePointArc((-28.5, 133.602079807), (-32.25852471, 130.13767164), (-34.5, 125.543716867))
            Line((-34.5, 125.543716867), (-34.5, 147.660442747))
            ThreePointArc((-34.5, 147.660442747), (-32.25852471, 143.066487973), (-28.5, 139.602079807))
            ThreePointArc((-28.5, 139.602079807), (-24.986612172, 138.037453812), (-21.178026712, 137.502079807))
            ThreePointArc((-21.178026712, 137.502079807), (-16.589455886, 131.913585252), (-22.96414143, 128.500428674))
        make_face()
    elastic_anchors_tool3 = extrude(elastic_anchors_sk3.sketch, amount=-ELASTIC_ANCHORS_REACH, mode=Mode.PRIVATE) & part.part
    # Sketch8 → elastic anchors (cut, up to next)
    with BuildSketch(Plane.XY.offset(3), mode=Mode.PRIVATE) as elastic_anchors_sk4:
        with BuildLine():
            ThreePointArc((-22.96414143, 158.500428674), (-24.060660172, 161.060660172), (-21.500428674, 159.96414143))
            ThreePointArc((-21.500428674, 159.96414143), (-18.304532331, 162.662597854), (-21.178026712, 165.702079807))
            ThreePointArc((-21.178026712, 165.702079807), (-24.986612172, 165.166705802), (-28.5, 163.602079807))
            ThreePointArc((-28.5, 163.602079807), (-32.25852471, 160.13767164), (-34.5, 155.543716867))
            Line((-34.5, 155.543716867), (-34.5, 177.660442747))
            ThreePointArc((-34.5, 177.660442747), (-32.25852471, 173.066487973), (-28.5, 169.602079807))
            ThreePointArc((-28.5, 169.602079807), (-24.986612172, 168.037453812), (-21.178026712, 167.502079807))
            ThreePointArc((-21.178026712, 167.502079807), (-16.589455886, 161.913585252), (-22.96414143, 158.500428674))
        make_face()
    elastic_anchors_tool4 = extrude(elastic_anchors_sk4.sketch, amount=-ELASTIC_ANCHORS_REACH, mode=Mode.PRIVATE) & part.part
    add(elastic_anchors_tool1.solids().sort_by_distance((27.986566, 165.492974, 3))[0], mode=Mode.SUBTRACT)
    add(elastic_anchors_tool2.solids().sort_by_distance((27.986566, 135.492974, 3))[0], mode=Mode.SUBTRACT)
    add(elastic_anchors_tool3.solids().sort_by_distance((-27.986566, 135.492974, 3))[0], mode=Mode.SUBTRACT)
    add(elastic_anchors_tool4.solids().sort_by_distance((-27.986566, 165.492974, 3))[0], mode=Mode.SUBTRACT)


solid = part.part
